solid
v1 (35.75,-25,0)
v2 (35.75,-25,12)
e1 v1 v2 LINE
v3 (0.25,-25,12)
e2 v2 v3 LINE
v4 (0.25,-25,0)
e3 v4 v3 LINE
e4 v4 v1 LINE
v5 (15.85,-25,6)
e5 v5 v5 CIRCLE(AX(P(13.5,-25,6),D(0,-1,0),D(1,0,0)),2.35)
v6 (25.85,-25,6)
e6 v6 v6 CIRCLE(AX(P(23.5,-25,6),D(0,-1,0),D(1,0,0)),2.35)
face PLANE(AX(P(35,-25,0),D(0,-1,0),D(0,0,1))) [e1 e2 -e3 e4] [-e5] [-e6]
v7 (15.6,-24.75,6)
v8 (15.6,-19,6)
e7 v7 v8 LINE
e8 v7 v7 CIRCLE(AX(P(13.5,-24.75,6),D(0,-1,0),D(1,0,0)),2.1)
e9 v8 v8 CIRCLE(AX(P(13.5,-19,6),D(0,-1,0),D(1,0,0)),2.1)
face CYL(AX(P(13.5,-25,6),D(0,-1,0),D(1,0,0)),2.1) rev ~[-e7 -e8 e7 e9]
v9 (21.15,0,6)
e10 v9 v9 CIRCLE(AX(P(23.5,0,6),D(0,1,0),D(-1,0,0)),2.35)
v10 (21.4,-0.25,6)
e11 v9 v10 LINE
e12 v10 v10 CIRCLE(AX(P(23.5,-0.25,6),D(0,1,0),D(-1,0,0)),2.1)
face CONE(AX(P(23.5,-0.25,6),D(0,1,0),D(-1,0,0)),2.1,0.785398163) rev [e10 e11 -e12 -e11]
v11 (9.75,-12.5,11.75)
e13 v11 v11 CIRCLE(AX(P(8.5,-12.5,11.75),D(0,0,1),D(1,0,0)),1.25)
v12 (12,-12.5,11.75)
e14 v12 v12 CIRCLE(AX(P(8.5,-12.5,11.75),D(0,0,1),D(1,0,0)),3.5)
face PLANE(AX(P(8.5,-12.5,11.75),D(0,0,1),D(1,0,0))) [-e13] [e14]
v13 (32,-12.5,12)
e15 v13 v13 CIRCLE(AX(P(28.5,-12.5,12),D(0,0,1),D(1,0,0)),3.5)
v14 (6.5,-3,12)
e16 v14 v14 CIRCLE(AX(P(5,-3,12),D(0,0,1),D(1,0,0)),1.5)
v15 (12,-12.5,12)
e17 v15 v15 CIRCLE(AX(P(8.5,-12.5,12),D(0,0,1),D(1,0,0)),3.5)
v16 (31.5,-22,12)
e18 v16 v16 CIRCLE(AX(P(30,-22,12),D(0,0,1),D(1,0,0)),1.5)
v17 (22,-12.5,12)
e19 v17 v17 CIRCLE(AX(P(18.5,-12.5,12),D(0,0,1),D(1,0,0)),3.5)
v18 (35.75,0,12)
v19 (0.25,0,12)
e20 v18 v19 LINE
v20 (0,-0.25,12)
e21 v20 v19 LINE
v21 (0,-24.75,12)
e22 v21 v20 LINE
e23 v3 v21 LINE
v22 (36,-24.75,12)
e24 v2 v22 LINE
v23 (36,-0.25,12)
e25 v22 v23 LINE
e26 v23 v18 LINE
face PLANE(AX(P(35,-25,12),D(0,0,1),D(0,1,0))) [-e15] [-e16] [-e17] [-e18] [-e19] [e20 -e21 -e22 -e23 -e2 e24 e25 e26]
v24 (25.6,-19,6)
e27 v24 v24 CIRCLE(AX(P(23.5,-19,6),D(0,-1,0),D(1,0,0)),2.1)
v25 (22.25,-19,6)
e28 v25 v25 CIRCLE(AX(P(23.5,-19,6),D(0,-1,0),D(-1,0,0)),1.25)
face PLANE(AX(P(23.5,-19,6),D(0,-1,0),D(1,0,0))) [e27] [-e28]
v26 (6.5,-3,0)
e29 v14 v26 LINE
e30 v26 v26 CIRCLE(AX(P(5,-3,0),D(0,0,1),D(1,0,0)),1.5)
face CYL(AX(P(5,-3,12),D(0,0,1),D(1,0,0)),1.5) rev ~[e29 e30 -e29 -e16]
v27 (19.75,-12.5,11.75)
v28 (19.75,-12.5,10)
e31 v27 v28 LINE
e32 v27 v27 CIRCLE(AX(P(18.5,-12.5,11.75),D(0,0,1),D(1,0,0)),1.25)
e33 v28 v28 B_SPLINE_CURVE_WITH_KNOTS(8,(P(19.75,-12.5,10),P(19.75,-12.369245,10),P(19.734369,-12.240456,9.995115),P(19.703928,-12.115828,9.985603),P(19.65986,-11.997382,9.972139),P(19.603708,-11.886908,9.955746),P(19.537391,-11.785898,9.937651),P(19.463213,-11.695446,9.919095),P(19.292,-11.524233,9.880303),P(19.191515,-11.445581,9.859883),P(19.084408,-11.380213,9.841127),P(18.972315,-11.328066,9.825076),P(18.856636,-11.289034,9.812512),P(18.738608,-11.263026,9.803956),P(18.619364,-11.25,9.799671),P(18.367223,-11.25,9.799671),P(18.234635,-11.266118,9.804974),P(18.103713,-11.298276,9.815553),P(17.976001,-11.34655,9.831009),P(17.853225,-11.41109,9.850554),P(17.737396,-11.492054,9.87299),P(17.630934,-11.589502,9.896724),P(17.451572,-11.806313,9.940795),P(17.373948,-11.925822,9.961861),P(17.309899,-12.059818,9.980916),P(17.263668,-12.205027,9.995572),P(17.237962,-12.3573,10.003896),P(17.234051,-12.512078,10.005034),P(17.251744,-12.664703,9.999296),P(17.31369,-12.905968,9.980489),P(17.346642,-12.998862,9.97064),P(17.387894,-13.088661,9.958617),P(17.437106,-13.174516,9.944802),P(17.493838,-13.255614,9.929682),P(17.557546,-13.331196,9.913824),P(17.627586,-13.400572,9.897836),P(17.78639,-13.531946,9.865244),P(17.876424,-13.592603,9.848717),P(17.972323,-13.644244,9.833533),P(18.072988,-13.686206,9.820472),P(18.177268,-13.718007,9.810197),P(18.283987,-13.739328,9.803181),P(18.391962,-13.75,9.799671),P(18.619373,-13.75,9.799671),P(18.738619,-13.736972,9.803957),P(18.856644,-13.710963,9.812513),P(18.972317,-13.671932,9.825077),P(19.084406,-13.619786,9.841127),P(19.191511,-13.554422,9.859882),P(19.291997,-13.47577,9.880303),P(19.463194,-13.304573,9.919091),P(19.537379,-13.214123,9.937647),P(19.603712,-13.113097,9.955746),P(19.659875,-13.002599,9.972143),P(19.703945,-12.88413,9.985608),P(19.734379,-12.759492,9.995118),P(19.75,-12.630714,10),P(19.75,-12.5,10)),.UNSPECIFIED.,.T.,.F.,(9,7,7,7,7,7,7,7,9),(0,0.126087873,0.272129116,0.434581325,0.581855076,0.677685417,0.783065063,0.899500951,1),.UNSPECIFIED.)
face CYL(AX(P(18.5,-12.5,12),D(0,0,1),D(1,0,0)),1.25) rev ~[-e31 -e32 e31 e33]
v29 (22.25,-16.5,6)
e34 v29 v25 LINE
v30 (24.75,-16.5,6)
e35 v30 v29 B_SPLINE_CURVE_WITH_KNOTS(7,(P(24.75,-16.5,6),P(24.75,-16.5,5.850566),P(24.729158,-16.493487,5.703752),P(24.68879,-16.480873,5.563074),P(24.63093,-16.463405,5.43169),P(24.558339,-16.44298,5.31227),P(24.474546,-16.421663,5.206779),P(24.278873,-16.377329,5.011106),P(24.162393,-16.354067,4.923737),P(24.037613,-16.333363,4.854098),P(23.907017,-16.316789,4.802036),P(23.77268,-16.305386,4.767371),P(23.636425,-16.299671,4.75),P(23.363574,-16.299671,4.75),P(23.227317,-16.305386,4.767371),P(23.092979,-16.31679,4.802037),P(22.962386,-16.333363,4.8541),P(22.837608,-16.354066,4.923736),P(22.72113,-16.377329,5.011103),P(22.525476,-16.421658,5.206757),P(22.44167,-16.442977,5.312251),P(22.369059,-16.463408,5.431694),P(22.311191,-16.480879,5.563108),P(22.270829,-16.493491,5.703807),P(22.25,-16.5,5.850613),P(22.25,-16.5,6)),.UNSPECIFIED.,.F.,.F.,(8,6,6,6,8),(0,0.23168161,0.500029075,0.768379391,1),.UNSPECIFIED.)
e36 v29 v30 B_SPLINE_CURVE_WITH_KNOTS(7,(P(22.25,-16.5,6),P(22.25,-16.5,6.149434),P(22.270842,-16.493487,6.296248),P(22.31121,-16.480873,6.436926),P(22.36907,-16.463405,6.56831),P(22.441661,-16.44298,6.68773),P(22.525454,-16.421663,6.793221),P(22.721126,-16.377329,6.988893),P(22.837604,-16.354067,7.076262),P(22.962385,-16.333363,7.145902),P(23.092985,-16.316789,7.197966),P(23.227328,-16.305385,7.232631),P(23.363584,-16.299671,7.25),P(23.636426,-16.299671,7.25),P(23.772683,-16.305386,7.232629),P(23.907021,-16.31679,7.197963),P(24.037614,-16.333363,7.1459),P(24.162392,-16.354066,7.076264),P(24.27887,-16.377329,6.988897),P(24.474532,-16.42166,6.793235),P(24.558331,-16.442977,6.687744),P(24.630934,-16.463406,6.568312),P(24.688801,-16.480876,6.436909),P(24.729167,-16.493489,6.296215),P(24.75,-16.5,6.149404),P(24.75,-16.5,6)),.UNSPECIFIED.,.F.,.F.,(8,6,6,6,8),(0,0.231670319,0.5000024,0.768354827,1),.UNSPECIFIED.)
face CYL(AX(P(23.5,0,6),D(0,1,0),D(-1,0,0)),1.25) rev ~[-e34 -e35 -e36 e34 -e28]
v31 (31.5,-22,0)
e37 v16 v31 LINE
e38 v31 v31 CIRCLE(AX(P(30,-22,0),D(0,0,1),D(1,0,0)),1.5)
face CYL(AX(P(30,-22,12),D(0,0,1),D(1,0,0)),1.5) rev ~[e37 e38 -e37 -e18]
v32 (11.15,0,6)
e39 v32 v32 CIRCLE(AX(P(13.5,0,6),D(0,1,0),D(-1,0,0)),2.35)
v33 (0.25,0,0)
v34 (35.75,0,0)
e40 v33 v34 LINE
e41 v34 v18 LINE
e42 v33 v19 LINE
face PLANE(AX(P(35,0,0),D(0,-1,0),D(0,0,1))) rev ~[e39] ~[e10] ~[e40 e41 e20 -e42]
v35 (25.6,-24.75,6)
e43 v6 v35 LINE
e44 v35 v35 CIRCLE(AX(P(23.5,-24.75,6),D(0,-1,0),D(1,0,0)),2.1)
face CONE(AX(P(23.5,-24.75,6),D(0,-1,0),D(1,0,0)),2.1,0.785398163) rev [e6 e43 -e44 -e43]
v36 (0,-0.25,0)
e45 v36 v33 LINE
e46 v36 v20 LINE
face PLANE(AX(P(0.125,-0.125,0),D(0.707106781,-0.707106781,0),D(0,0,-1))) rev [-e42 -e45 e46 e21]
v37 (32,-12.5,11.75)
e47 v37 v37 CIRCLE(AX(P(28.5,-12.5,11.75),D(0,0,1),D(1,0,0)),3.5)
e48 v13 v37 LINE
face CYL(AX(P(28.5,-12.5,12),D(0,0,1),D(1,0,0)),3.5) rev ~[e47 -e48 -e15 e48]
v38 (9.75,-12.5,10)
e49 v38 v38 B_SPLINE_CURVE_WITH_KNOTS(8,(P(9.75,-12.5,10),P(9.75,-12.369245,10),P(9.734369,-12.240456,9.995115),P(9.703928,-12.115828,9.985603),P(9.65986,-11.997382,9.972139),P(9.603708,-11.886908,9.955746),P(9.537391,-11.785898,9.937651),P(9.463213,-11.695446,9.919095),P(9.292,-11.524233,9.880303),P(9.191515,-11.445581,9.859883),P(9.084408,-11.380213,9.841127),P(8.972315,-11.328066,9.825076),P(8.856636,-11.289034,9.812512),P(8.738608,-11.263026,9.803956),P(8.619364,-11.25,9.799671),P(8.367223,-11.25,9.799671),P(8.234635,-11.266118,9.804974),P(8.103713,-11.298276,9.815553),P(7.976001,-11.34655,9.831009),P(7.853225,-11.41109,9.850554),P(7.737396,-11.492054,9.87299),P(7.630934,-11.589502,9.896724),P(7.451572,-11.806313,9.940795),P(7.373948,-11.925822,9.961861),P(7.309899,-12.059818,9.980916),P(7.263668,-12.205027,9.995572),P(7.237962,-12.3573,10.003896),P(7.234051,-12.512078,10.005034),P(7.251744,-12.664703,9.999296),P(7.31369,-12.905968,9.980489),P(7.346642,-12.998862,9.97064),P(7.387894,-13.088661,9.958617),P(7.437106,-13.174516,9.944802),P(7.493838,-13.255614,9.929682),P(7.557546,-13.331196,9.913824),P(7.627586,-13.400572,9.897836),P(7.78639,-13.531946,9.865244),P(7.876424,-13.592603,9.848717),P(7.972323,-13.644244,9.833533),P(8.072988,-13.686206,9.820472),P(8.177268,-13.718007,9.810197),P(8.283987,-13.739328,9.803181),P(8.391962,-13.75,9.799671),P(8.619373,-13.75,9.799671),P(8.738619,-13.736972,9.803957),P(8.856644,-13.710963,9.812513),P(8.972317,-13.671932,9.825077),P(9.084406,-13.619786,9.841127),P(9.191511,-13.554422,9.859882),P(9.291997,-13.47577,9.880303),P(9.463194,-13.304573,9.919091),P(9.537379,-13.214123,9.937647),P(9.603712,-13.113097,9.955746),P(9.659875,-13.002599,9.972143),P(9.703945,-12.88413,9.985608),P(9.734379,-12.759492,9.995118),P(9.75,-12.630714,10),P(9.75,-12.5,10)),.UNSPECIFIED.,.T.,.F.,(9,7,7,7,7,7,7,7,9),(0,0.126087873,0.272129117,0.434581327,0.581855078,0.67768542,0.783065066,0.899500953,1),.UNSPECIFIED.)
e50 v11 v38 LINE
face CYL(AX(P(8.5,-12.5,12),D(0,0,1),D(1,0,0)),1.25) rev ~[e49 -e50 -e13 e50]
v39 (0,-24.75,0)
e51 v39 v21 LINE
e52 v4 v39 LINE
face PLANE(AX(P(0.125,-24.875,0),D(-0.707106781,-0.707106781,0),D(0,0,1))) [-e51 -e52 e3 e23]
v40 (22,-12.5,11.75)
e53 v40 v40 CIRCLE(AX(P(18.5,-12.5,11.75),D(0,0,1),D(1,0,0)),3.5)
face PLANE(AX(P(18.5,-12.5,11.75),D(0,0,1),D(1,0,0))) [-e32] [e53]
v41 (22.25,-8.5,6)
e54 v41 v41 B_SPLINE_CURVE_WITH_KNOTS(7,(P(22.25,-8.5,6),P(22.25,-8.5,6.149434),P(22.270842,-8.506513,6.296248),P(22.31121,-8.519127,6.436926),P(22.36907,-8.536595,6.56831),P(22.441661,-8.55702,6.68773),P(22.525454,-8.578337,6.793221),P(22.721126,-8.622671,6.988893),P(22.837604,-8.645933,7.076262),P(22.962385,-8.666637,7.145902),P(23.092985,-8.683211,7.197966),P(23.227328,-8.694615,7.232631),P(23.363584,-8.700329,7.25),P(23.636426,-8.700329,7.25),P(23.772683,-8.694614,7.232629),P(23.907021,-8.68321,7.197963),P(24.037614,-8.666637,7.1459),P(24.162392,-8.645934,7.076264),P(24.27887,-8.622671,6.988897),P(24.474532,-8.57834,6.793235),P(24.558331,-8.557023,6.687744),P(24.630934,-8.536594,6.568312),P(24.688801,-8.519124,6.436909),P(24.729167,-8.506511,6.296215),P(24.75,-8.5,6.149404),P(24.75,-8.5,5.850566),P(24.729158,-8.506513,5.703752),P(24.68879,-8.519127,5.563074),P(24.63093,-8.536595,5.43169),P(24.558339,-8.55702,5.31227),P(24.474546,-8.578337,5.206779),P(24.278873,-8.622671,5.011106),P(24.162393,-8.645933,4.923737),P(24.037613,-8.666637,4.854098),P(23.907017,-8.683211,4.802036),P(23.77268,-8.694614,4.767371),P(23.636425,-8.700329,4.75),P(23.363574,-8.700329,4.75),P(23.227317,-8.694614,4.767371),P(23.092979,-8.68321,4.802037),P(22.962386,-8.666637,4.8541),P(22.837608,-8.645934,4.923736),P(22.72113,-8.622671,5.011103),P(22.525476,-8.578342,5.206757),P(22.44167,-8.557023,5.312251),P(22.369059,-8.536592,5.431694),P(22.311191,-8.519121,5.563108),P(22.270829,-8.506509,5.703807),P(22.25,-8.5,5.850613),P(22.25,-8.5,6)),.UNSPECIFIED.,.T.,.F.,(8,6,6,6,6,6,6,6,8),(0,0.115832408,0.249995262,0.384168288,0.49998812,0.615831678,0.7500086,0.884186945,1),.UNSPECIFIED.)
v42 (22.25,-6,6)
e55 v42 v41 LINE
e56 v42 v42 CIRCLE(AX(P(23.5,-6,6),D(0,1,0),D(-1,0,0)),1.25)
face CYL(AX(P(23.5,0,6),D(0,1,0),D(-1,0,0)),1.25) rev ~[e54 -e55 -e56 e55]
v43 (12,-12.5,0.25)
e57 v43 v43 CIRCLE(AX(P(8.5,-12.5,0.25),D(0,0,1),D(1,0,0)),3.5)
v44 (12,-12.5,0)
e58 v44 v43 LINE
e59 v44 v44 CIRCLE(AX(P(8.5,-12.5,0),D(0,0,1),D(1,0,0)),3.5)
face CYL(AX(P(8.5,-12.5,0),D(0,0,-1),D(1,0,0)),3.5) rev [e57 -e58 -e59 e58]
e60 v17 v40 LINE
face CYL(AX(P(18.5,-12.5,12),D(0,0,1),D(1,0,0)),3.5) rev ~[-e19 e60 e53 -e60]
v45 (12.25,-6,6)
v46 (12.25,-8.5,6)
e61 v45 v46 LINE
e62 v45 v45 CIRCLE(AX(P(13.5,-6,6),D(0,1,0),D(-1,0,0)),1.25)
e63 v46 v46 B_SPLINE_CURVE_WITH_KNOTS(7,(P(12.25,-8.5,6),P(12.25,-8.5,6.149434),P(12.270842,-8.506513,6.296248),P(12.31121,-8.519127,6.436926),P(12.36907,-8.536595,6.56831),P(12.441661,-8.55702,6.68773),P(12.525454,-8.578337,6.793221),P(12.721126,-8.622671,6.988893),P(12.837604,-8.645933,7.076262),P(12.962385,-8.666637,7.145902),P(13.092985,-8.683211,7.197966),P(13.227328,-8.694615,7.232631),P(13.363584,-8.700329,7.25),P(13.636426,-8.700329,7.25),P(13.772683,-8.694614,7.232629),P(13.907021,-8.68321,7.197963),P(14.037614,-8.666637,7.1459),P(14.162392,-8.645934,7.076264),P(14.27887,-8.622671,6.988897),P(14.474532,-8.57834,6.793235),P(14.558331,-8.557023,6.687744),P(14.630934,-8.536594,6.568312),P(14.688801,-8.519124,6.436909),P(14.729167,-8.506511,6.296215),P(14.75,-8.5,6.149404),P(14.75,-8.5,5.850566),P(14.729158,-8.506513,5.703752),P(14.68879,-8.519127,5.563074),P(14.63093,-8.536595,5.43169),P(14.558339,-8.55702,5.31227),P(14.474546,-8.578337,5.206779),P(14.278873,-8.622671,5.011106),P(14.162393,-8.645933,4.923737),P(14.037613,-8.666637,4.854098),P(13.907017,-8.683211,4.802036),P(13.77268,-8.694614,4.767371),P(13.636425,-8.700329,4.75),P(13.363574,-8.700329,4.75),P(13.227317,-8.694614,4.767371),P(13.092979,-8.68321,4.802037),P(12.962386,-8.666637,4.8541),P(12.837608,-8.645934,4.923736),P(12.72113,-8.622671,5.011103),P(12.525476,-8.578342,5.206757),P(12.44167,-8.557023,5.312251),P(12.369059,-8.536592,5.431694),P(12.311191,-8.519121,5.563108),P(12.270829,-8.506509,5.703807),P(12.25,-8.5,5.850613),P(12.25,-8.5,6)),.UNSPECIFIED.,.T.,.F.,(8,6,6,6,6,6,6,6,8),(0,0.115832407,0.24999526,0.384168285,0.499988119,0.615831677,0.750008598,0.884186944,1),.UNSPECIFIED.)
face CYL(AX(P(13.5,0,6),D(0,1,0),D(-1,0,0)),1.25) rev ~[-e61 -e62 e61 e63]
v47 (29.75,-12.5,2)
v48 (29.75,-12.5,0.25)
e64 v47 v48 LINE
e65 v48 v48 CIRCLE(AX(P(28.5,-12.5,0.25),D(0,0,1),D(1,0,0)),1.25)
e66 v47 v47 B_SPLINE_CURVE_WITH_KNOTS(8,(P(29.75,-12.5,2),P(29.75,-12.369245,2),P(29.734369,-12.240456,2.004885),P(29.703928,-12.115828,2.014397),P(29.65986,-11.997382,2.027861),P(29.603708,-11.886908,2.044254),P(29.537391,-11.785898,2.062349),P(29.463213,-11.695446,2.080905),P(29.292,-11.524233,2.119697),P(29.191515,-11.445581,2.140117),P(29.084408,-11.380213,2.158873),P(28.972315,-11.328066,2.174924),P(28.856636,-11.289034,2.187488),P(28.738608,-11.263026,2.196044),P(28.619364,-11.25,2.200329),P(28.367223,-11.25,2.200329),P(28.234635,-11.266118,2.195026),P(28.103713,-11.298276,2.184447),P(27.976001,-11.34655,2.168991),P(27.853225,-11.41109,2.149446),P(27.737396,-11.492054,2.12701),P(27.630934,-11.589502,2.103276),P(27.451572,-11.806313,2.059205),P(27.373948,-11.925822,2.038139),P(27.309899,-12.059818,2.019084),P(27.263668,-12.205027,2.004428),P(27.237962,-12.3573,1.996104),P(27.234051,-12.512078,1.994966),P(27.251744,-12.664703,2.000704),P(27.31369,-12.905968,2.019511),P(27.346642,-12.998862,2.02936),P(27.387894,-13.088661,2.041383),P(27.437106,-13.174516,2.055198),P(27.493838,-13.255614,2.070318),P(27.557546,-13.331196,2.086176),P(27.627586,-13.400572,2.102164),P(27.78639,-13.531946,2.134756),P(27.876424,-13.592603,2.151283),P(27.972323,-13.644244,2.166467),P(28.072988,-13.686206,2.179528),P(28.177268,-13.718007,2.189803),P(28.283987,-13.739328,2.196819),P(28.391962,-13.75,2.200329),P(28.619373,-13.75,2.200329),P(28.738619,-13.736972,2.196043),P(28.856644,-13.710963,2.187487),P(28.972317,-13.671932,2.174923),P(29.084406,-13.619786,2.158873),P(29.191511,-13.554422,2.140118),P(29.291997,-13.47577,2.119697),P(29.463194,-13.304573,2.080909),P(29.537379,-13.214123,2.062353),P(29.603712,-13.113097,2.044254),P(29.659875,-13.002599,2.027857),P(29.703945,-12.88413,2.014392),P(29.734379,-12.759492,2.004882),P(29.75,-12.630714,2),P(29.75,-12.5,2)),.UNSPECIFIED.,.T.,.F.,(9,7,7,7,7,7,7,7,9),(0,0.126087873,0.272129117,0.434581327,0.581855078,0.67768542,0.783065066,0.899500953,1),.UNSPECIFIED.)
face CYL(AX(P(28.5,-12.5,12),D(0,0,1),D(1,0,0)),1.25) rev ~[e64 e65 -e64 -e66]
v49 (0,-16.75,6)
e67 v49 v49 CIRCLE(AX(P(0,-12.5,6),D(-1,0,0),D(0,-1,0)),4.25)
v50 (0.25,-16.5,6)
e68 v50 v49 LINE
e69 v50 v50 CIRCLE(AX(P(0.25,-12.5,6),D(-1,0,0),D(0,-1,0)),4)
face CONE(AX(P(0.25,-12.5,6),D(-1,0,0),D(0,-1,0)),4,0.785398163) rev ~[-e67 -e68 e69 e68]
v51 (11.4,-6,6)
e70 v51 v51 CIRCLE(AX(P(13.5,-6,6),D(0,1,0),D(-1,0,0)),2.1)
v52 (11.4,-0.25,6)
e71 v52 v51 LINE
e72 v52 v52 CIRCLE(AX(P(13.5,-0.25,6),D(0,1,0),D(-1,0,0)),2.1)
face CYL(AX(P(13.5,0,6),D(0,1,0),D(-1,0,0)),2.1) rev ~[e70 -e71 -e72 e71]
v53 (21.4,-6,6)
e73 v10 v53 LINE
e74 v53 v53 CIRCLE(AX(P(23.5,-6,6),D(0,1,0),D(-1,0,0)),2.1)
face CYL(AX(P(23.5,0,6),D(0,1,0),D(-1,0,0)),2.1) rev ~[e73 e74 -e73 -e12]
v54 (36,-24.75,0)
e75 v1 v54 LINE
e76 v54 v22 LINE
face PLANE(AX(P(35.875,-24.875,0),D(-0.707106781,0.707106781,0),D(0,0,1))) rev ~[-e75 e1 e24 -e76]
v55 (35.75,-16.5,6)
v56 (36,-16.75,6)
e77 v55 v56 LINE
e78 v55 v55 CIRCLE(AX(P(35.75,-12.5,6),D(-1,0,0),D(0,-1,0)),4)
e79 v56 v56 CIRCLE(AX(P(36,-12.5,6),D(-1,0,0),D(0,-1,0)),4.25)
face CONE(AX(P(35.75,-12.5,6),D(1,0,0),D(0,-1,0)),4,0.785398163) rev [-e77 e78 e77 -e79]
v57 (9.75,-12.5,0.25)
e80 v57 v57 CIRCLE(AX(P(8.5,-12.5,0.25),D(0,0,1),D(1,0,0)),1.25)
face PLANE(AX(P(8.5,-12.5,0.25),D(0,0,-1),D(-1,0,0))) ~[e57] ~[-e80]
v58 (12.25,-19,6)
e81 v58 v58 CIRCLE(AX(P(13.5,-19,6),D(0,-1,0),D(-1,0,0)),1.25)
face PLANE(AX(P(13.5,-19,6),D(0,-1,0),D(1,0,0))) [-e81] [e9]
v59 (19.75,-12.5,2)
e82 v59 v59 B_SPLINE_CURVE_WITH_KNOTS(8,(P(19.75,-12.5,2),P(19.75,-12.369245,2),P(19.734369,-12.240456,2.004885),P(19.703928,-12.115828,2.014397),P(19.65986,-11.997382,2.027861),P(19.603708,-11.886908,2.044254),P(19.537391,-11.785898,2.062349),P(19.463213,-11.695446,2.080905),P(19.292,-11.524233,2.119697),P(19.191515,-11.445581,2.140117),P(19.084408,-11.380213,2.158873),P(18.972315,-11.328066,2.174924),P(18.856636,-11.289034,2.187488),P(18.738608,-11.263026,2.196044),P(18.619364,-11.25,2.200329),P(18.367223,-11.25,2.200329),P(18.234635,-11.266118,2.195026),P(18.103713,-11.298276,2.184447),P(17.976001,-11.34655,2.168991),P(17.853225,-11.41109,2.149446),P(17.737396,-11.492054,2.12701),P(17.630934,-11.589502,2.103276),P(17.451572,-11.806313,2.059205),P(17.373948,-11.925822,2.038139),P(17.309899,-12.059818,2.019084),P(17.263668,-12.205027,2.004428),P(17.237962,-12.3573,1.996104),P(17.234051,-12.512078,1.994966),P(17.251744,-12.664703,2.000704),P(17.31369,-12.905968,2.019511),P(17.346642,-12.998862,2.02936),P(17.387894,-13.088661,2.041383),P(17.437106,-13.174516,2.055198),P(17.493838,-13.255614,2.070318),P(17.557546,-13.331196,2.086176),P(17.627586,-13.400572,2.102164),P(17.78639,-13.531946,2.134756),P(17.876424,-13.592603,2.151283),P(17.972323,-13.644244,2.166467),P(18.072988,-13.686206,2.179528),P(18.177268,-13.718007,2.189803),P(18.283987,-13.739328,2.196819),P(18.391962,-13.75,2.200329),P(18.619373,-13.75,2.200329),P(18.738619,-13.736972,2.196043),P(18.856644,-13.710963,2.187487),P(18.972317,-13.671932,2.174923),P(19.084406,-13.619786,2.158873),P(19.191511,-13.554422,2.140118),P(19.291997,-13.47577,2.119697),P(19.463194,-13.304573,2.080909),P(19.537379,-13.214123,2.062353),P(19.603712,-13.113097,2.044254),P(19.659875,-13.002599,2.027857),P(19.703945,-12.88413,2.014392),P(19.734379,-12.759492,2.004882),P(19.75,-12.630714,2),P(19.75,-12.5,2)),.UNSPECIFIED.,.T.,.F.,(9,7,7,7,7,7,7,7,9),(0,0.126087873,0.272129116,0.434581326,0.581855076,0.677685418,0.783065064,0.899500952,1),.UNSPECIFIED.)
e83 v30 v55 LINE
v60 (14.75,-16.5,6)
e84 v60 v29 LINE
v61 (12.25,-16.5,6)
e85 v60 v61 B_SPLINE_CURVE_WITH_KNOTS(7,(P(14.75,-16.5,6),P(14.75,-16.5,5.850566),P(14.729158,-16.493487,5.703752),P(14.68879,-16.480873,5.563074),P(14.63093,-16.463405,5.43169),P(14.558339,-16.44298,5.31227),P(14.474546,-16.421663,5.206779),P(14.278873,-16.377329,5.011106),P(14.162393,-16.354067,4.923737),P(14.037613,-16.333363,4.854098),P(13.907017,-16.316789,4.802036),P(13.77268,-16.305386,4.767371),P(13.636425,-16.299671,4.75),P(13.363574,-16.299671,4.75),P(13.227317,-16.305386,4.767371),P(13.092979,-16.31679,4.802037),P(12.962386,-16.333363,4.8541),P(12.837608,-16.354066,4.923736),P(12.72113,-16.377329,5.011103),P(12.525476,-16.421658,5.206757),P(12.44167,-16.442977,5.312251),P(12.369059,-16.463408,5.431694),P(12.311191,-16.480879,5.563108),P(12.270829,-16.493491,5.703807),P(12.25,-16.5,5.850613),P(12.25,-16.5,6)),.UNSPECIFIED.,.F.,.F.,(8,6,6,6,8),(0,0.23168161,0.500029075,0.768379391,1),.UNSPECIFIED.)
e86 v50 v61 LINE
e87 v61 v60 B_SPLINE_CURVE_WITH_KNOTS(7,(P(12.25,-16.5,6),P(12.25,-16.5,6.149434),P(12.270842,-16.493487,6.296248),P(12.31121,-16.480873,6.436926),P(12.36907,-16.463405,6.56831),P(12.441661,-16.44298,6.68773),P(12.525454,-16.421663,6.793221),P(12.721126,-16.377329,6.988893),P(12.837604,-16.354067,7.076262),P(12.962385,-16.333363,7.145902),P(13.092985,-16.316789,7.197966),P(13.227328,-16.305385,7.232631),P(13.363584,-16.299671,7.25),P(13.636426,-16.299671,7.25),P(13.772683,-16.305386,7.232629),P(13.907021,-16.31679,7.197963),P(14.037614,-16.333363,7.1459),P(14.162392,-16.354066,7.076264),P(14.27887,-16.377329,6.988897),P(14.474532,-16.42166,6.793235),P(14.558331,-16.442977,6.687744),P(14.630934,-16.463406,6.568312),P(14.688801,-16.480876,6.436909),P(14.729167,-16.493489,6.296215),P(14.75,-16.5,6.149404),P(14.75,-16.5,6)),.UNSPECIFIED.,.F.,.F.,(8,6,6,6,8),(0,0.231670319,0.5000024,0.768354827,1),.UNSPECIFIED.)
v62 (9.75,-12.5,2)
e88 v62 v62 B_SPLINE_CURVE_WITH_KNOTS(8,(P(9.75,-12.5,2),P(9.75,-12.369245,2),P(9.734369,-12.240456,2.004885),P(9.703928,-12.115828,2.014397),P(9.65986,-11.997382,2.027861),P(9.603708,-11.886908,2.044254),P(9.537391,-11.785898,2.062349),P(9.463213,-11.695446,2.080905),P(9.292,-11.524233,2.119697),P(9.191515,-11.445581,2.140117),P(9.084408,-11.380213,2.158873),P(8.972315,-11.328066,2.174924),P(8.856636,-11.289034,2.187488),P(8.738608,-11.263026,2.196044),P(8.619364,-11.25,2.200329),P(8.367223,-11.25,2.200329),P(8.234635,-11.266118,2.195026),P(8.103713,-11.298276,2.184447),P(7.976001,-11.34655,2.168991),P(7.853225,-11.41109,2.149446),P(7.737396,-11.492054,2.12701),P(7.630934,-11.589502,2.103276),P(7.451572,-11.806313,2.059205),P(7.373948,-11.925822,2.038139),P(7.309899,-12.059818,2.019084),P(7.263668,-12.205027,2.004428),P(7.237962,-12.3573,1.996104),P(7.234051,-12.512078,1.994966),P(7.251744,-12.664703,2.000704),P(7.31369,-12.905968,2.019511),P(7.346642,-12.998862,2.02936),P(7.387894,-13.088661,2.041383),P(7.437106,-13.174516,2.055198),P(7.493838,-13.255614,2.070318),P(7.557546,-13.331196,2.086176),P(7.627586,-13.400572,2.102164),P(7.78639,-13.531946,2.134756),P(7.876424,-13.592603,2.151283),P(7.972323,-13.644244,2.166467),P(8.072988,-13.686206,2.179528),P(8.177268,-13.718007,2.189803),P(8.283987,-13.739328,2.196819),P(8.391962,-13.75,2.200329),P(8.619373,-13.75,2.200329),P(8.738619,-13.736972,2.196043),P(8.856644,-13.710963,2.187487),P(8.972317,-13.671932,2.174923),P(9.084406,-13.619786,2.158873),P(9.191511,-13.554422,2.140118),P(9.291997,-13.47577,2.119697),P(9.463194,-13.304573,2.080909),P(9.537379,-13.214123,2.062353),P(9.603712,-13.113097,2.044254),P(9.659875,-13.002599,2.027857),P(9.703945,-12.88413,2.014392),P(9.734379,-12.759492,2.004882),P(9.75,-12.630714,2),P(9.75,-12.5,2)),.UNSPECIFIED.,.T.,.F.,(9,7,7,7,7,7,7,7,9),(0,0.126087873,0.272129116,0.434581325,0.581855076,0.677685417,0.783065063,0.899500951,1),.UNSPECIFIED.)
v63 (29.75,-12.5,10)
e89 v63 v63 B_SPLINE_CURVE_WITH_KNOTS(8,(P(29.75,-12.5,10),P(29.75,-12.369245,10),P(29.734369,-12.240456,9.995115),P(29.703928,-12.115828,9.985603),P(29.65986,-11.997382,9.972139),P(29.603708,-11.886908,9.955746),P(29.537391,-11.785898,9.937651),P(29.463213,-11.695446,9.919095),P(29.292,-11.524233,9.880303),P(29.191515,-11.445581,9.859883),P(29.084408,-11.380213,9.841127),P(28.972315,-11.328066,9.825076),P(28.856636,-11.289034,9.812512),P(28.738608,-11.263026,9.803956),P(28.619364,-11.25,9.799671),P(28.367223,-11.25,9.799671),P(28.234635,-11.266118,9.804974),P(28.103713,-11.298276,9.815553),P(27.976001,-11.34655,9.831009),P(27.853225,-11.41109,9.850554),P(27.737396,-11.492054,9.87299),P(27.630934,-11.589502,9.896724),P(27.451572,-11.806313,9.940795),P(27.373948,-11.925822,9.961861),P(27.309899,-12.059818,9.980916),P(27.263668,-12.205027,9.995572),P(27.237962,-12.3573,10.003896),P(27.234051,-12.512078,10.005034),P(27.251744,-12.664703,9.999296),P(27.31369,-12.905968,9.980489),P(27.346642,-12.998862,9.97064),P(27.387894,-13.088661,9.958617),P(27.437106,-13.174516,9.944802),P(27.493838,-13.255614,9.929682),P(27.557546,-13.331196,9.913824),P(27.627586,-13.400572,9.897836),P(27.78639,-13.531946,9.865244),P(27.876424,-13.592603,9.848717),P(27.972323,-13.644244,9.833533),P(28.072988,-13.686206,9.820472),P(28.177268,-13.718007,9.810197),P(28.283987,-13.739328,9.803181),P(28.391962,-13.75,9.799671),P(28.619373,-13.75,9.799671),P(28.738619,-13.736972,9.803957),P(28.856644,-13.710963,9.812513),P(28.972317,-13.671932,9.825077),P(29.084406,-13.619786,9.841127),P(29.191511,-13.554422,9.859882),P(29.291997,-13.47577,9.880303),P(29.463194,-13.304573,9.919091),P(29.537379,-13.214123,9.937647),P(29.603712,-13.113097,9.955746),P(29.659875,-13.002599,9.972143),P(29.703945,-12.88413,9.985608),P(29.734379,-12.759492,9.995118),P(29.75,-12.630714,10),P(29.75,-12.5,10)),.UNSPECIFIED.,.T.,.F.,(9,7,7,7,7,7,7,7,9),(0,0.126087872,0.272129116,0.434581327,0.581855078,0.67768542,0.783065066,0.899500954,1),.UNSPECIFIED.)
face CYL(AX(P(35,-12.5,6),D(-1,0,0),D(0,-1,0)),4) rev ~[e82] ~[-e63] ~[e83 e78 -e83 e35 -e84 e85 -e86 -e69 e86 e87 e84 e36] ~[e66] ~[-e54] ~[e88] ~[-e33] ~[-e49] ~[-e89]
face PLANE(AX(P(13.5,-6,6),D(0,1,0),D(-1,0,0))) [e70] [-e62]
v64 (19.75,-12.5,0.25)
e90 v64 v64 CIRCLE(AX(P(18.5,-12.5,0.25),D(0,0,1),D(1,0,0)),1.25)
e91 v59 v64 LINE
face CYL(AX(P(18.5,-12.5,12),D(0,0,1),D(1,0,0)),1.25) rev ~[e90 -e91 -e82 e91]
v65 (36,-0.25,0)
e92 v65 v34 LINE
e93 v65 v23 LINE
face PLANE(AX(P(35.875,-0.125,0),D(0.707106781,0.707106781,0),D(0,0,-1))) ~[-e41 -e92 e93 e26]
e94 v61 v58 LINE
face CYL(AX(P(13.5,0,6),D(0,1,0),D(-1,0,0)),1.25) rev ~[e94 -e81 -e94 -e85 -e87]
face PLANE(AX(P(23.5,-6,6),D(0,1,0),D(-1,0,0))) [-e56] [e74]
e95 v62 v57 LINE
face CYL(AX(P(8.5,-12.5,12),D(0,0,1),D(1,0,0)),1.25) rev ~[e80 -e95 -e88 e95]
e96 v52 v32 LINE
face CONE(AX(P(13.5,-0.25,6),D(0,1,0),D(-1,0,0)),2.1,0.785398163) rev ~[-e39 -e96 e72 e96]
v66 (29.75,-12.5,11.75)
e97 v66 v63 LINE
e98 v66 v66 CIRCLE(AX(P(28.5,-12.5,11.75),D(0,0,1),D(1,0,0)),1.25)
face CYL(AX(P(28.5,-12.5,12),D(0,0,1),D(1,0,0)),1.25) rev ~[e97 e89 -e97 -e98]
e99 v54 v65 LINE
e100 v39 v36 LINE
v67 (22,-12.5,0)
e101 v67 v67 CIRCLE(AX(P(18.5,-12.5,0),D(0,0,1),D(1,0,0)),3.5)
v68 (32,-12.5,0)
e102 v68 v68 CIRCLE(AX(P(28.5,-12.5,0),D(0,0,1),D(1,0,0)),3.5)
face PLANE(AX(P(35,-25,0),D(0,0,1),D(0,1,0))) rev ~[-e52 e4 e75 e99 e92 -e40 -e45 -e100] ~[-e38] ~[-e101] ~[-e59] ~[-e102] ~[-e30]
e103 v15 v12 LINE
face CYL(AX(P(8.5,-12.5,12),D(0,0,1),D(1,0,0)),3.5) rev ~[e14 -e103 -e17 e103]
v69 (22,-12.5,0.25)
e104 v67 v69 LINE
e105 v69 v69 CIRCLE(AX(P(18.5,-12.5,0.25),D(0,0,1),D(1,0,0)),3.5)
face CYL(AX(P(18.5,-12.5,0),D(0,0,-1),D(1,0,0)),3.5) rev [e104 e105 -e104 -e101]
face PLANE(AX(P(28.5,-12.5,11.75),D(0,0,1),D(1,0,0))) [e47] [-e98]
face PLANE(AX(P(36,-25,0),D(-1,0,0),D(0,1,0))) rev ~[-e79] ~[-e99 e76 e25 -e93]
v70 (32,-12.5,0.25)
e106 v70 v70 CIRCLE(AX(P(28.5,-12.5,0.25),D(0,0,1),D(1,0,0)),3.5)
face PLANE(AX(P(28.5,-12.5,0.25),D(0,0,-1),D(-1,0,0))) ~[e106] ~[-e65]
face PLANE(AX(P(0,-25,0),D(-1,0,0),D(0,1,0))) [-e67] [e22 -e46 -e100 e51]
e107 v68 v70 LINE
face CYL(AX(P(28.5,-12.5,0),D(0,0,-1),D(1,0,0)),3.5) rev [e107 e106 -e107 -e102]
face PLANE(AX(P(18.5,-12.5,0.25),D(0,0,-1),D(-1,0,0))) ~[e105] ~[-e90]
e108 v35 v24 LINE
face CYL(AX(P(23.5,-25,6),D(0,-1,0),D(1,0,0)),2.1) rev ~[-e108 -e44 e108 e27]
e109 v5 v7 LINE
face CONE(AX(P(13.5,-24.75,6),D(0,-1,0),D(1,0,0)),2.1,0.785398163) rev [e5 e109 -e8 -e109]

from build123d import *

# Parameters (mm, degrees)
F0_W      = 35
F0_H      = 25
F1_DEPTH  = 12
F2_R      = 4
F3_DEPTH  = 35
F4_R      = 3.5
F4_R_2    = 1.25
F5_DEPTH  = 0.25
F4_R_3    = 1.5
F6_DEPTH  = 25
F7_R      = 1.25
F8_DEPTH  = 25
F10_R     = 2.1
F10_R_2   = 1.25
F11_DEPTH = 6
F9_R      = 2.1
F9_R_2    = 1.25
F12_DEPTH = 6
F13_DEPTH = 1
F14_SIZE  = 0.25
F15_SIZE  = 0.25


with BuildPart() as f1:
    # F0 (on Top) → F1 (new body)
    with BuildSketch(Plane.XY):
        with Locations((17.5, -12.5)):
            Rectangle(F0_W, F0_H)
    extrude(amount=F1_DEPTH)

    # F2 (on face) → F3 (cut, through all)
    with BuildSketch(Plane(origin=(0, 0, 0), x_dir=(0, -1, 0), z_dir=(-1, 0, 0))):
        with Locations((12.5, 6)):
            Circle(F2_R)
    extrude(amount=-F3_DEPTH, mode=Mode.SUBTRACT)

    # F4 (on face) → F6 (cut)
    with BuildSketch(Plane.XY.offset(12)):
        with Locations((30, -22)):
            Circle(F4_R_3)
        with Locations((28.5, -12.5)):
            Circle(F4_R_2)
        with Locations((18.5, -12.5)):
            Circle(F4_R_2)
        with Locations((5, -3)):
            Circle(F4_R_3)
        with Locations((8.5, -12.5)):
            Circle(F4_R_2)
    extrude(amount=-F6_DEPTH, mode=Mode.SUBTRACT)

    # F7 (on face) → F8 (cut)
    with BuildSketch(Plane(origin=(0, 0, 0), x_dir=(-1, 0, 0), z_dir=(0, 1, 0))):
        with Locations((-23.5, 6)):
            Circle(F7_R)
        with Locations((-13.5, 6)):
            Circle(F7_R)
    extrude(amount=-F8_DEPTH, mode=Mode.SUBTRACT)

    # F10 (on face) → F11 (cut)
    with BuildSketch(Plane(origin=(0, 0, 0), x_dir=(-1, 0, 0), z_dir=(0, 1, 0))):
        with Locations((-13.5, 6)):
            Circle(F10_R)
        with Locations((-13.5, 6)):
            Circle(F10_R_2, mode=Mode.SUBTRACT)
        with Locations((-23.5, 6)):
            Circle(F10_R)
        with Locations((-23.5, 6)):
            Circle(F10_R_2, mode=Mode.SUBTRACT)
    extrude(amount=-F11_DEPTH, mode=Mode.SUBTRACT)

    # F9 (on face) → F12 (cut)
    with BuildSketch(Plane.XZ.offset(25)):
        with Locations((13.5, 6)):
            Circle(F9_R)
        with Locations((13.5, 6)):
            Circle(F9_R_2, mode=Mode.SUBTRACT)
        with Locations((23.5, 6)):
            Circle(F9_R)
        with Locations((23.5, 6)):
            Circle(F9_R_2, mode=Mode.SUBTRACT)
    extrude(amount=-F12_DEPTH, mode=Mode.SUBTRACT)

    # F13 (add): a face of the model
    f13_faces = [f1.faces().sort_by_distance(p)[0] for p in [
        (35, -24.7226915075, 6),
    ]]
    extrude(f13_faces, amount=F13_DEPTH)

    # F14
    f14_edges = [f1.edges().sort_by_distance(p)[0] for p in [
        (11.4, -25, 6),
        (21.4, -25, 6),
        (15.6, 0, 6),
        (25.6, 0, 6),
        (36, -8.5, 6),
        (0, -8.5, 6),
    ]]
    chamfer(f14_edges, length=F14_SIZE)

    # F15
    f15_edges = [f1.edges().sort_by_distance(p)[0] for p in [
        (36, -25, 6),
        (36, 0, 6),
        (0, 0, 6),
        (0, -25, 6),
    ]]
    chamfer(f15_edges, length=F15_SIZE)


with BuildPart() as f5:
    # F4 (on face) → F5 (new body)
    with BuildSketch(Plane.XY.offset(12)):
        with Locations((8.5, -12.5)):
            Circle(F4_R)
        with Locations((8.5, -12.5)):
            Circle(F4_R_2, mode=Mode.SUBTRACT)
    extrude(amount=-F5_DEPTH)


with BuildPart() as f5b:
    # F4 (on face) → F5, piece 2 (new body)
    with BuildSketch(Plane.XY.offset(12)):
        with Locations((18.5, -12.5)):
            Circle(F4_R)
        with Locations((18.5, -12.5)):
            Circle(F4_R_2, mode=Mode.SUBTRACT)
    extrude(amount=-F5_DEPTH)


with BuildPart() as f5c:
    # F4 (on face) → F5, piece 3 (new body)
    with BuildSketch(Plane.XY.offset(12)):
        with Locations((28.5, -12.5)):
            Circle(F4_R)
        with Locations((28.5, -12.5)):
            Circle(F4_R_2, mode=Mode.SUBTRACT)
    extrude(amount=-F5_DEPTH)


with BuildPart() as f16_1:
    # F16: instance of F5
    add(f5.part.mirror(Plane.XY))


with BuildPart() as f16_2:
    # F16: instance of F5b
    add(f5b.part.mirror(Plane.XY))


with BuildPart() as f16_3:
    # F16: instance of F5c
    add(f5c.part.mirror(Plane.XY))


with BuildPart() as f16_3_1:
    # F17: moved
    add(f16_3.part.moved(Location((0, 0, 12))))


with BuildPart() as f16_2_1:
    # F17: moved
    add(f16_2.part.moved(Location((0, 0, 12))))


with BuildPart() as f16_1_1:
    # F17: moved
    add(f16_1.part.moved(Location((0, 0, 12))))


with BuildPart() as f1_1:
    add(f1.part)

    # F18: cut F5c, F5, F5b, F16_1, F16_2, F16_3
    add(f5c.part, mode=Mode.SUBTRACT)
    add(f5.part, mode=Mode.SUBTRACT)
    add(f5b.part, mode=Mode.SUBTRACT)
    add(f16_1_1.part, mode=Mode.SUBTRACT)
    add(f16_2_1.part, mode=Mode.SUBTRACT)
    add(f16_3_1.part, mode=Mode.SUBTRACT)


solid = f1_1.part
